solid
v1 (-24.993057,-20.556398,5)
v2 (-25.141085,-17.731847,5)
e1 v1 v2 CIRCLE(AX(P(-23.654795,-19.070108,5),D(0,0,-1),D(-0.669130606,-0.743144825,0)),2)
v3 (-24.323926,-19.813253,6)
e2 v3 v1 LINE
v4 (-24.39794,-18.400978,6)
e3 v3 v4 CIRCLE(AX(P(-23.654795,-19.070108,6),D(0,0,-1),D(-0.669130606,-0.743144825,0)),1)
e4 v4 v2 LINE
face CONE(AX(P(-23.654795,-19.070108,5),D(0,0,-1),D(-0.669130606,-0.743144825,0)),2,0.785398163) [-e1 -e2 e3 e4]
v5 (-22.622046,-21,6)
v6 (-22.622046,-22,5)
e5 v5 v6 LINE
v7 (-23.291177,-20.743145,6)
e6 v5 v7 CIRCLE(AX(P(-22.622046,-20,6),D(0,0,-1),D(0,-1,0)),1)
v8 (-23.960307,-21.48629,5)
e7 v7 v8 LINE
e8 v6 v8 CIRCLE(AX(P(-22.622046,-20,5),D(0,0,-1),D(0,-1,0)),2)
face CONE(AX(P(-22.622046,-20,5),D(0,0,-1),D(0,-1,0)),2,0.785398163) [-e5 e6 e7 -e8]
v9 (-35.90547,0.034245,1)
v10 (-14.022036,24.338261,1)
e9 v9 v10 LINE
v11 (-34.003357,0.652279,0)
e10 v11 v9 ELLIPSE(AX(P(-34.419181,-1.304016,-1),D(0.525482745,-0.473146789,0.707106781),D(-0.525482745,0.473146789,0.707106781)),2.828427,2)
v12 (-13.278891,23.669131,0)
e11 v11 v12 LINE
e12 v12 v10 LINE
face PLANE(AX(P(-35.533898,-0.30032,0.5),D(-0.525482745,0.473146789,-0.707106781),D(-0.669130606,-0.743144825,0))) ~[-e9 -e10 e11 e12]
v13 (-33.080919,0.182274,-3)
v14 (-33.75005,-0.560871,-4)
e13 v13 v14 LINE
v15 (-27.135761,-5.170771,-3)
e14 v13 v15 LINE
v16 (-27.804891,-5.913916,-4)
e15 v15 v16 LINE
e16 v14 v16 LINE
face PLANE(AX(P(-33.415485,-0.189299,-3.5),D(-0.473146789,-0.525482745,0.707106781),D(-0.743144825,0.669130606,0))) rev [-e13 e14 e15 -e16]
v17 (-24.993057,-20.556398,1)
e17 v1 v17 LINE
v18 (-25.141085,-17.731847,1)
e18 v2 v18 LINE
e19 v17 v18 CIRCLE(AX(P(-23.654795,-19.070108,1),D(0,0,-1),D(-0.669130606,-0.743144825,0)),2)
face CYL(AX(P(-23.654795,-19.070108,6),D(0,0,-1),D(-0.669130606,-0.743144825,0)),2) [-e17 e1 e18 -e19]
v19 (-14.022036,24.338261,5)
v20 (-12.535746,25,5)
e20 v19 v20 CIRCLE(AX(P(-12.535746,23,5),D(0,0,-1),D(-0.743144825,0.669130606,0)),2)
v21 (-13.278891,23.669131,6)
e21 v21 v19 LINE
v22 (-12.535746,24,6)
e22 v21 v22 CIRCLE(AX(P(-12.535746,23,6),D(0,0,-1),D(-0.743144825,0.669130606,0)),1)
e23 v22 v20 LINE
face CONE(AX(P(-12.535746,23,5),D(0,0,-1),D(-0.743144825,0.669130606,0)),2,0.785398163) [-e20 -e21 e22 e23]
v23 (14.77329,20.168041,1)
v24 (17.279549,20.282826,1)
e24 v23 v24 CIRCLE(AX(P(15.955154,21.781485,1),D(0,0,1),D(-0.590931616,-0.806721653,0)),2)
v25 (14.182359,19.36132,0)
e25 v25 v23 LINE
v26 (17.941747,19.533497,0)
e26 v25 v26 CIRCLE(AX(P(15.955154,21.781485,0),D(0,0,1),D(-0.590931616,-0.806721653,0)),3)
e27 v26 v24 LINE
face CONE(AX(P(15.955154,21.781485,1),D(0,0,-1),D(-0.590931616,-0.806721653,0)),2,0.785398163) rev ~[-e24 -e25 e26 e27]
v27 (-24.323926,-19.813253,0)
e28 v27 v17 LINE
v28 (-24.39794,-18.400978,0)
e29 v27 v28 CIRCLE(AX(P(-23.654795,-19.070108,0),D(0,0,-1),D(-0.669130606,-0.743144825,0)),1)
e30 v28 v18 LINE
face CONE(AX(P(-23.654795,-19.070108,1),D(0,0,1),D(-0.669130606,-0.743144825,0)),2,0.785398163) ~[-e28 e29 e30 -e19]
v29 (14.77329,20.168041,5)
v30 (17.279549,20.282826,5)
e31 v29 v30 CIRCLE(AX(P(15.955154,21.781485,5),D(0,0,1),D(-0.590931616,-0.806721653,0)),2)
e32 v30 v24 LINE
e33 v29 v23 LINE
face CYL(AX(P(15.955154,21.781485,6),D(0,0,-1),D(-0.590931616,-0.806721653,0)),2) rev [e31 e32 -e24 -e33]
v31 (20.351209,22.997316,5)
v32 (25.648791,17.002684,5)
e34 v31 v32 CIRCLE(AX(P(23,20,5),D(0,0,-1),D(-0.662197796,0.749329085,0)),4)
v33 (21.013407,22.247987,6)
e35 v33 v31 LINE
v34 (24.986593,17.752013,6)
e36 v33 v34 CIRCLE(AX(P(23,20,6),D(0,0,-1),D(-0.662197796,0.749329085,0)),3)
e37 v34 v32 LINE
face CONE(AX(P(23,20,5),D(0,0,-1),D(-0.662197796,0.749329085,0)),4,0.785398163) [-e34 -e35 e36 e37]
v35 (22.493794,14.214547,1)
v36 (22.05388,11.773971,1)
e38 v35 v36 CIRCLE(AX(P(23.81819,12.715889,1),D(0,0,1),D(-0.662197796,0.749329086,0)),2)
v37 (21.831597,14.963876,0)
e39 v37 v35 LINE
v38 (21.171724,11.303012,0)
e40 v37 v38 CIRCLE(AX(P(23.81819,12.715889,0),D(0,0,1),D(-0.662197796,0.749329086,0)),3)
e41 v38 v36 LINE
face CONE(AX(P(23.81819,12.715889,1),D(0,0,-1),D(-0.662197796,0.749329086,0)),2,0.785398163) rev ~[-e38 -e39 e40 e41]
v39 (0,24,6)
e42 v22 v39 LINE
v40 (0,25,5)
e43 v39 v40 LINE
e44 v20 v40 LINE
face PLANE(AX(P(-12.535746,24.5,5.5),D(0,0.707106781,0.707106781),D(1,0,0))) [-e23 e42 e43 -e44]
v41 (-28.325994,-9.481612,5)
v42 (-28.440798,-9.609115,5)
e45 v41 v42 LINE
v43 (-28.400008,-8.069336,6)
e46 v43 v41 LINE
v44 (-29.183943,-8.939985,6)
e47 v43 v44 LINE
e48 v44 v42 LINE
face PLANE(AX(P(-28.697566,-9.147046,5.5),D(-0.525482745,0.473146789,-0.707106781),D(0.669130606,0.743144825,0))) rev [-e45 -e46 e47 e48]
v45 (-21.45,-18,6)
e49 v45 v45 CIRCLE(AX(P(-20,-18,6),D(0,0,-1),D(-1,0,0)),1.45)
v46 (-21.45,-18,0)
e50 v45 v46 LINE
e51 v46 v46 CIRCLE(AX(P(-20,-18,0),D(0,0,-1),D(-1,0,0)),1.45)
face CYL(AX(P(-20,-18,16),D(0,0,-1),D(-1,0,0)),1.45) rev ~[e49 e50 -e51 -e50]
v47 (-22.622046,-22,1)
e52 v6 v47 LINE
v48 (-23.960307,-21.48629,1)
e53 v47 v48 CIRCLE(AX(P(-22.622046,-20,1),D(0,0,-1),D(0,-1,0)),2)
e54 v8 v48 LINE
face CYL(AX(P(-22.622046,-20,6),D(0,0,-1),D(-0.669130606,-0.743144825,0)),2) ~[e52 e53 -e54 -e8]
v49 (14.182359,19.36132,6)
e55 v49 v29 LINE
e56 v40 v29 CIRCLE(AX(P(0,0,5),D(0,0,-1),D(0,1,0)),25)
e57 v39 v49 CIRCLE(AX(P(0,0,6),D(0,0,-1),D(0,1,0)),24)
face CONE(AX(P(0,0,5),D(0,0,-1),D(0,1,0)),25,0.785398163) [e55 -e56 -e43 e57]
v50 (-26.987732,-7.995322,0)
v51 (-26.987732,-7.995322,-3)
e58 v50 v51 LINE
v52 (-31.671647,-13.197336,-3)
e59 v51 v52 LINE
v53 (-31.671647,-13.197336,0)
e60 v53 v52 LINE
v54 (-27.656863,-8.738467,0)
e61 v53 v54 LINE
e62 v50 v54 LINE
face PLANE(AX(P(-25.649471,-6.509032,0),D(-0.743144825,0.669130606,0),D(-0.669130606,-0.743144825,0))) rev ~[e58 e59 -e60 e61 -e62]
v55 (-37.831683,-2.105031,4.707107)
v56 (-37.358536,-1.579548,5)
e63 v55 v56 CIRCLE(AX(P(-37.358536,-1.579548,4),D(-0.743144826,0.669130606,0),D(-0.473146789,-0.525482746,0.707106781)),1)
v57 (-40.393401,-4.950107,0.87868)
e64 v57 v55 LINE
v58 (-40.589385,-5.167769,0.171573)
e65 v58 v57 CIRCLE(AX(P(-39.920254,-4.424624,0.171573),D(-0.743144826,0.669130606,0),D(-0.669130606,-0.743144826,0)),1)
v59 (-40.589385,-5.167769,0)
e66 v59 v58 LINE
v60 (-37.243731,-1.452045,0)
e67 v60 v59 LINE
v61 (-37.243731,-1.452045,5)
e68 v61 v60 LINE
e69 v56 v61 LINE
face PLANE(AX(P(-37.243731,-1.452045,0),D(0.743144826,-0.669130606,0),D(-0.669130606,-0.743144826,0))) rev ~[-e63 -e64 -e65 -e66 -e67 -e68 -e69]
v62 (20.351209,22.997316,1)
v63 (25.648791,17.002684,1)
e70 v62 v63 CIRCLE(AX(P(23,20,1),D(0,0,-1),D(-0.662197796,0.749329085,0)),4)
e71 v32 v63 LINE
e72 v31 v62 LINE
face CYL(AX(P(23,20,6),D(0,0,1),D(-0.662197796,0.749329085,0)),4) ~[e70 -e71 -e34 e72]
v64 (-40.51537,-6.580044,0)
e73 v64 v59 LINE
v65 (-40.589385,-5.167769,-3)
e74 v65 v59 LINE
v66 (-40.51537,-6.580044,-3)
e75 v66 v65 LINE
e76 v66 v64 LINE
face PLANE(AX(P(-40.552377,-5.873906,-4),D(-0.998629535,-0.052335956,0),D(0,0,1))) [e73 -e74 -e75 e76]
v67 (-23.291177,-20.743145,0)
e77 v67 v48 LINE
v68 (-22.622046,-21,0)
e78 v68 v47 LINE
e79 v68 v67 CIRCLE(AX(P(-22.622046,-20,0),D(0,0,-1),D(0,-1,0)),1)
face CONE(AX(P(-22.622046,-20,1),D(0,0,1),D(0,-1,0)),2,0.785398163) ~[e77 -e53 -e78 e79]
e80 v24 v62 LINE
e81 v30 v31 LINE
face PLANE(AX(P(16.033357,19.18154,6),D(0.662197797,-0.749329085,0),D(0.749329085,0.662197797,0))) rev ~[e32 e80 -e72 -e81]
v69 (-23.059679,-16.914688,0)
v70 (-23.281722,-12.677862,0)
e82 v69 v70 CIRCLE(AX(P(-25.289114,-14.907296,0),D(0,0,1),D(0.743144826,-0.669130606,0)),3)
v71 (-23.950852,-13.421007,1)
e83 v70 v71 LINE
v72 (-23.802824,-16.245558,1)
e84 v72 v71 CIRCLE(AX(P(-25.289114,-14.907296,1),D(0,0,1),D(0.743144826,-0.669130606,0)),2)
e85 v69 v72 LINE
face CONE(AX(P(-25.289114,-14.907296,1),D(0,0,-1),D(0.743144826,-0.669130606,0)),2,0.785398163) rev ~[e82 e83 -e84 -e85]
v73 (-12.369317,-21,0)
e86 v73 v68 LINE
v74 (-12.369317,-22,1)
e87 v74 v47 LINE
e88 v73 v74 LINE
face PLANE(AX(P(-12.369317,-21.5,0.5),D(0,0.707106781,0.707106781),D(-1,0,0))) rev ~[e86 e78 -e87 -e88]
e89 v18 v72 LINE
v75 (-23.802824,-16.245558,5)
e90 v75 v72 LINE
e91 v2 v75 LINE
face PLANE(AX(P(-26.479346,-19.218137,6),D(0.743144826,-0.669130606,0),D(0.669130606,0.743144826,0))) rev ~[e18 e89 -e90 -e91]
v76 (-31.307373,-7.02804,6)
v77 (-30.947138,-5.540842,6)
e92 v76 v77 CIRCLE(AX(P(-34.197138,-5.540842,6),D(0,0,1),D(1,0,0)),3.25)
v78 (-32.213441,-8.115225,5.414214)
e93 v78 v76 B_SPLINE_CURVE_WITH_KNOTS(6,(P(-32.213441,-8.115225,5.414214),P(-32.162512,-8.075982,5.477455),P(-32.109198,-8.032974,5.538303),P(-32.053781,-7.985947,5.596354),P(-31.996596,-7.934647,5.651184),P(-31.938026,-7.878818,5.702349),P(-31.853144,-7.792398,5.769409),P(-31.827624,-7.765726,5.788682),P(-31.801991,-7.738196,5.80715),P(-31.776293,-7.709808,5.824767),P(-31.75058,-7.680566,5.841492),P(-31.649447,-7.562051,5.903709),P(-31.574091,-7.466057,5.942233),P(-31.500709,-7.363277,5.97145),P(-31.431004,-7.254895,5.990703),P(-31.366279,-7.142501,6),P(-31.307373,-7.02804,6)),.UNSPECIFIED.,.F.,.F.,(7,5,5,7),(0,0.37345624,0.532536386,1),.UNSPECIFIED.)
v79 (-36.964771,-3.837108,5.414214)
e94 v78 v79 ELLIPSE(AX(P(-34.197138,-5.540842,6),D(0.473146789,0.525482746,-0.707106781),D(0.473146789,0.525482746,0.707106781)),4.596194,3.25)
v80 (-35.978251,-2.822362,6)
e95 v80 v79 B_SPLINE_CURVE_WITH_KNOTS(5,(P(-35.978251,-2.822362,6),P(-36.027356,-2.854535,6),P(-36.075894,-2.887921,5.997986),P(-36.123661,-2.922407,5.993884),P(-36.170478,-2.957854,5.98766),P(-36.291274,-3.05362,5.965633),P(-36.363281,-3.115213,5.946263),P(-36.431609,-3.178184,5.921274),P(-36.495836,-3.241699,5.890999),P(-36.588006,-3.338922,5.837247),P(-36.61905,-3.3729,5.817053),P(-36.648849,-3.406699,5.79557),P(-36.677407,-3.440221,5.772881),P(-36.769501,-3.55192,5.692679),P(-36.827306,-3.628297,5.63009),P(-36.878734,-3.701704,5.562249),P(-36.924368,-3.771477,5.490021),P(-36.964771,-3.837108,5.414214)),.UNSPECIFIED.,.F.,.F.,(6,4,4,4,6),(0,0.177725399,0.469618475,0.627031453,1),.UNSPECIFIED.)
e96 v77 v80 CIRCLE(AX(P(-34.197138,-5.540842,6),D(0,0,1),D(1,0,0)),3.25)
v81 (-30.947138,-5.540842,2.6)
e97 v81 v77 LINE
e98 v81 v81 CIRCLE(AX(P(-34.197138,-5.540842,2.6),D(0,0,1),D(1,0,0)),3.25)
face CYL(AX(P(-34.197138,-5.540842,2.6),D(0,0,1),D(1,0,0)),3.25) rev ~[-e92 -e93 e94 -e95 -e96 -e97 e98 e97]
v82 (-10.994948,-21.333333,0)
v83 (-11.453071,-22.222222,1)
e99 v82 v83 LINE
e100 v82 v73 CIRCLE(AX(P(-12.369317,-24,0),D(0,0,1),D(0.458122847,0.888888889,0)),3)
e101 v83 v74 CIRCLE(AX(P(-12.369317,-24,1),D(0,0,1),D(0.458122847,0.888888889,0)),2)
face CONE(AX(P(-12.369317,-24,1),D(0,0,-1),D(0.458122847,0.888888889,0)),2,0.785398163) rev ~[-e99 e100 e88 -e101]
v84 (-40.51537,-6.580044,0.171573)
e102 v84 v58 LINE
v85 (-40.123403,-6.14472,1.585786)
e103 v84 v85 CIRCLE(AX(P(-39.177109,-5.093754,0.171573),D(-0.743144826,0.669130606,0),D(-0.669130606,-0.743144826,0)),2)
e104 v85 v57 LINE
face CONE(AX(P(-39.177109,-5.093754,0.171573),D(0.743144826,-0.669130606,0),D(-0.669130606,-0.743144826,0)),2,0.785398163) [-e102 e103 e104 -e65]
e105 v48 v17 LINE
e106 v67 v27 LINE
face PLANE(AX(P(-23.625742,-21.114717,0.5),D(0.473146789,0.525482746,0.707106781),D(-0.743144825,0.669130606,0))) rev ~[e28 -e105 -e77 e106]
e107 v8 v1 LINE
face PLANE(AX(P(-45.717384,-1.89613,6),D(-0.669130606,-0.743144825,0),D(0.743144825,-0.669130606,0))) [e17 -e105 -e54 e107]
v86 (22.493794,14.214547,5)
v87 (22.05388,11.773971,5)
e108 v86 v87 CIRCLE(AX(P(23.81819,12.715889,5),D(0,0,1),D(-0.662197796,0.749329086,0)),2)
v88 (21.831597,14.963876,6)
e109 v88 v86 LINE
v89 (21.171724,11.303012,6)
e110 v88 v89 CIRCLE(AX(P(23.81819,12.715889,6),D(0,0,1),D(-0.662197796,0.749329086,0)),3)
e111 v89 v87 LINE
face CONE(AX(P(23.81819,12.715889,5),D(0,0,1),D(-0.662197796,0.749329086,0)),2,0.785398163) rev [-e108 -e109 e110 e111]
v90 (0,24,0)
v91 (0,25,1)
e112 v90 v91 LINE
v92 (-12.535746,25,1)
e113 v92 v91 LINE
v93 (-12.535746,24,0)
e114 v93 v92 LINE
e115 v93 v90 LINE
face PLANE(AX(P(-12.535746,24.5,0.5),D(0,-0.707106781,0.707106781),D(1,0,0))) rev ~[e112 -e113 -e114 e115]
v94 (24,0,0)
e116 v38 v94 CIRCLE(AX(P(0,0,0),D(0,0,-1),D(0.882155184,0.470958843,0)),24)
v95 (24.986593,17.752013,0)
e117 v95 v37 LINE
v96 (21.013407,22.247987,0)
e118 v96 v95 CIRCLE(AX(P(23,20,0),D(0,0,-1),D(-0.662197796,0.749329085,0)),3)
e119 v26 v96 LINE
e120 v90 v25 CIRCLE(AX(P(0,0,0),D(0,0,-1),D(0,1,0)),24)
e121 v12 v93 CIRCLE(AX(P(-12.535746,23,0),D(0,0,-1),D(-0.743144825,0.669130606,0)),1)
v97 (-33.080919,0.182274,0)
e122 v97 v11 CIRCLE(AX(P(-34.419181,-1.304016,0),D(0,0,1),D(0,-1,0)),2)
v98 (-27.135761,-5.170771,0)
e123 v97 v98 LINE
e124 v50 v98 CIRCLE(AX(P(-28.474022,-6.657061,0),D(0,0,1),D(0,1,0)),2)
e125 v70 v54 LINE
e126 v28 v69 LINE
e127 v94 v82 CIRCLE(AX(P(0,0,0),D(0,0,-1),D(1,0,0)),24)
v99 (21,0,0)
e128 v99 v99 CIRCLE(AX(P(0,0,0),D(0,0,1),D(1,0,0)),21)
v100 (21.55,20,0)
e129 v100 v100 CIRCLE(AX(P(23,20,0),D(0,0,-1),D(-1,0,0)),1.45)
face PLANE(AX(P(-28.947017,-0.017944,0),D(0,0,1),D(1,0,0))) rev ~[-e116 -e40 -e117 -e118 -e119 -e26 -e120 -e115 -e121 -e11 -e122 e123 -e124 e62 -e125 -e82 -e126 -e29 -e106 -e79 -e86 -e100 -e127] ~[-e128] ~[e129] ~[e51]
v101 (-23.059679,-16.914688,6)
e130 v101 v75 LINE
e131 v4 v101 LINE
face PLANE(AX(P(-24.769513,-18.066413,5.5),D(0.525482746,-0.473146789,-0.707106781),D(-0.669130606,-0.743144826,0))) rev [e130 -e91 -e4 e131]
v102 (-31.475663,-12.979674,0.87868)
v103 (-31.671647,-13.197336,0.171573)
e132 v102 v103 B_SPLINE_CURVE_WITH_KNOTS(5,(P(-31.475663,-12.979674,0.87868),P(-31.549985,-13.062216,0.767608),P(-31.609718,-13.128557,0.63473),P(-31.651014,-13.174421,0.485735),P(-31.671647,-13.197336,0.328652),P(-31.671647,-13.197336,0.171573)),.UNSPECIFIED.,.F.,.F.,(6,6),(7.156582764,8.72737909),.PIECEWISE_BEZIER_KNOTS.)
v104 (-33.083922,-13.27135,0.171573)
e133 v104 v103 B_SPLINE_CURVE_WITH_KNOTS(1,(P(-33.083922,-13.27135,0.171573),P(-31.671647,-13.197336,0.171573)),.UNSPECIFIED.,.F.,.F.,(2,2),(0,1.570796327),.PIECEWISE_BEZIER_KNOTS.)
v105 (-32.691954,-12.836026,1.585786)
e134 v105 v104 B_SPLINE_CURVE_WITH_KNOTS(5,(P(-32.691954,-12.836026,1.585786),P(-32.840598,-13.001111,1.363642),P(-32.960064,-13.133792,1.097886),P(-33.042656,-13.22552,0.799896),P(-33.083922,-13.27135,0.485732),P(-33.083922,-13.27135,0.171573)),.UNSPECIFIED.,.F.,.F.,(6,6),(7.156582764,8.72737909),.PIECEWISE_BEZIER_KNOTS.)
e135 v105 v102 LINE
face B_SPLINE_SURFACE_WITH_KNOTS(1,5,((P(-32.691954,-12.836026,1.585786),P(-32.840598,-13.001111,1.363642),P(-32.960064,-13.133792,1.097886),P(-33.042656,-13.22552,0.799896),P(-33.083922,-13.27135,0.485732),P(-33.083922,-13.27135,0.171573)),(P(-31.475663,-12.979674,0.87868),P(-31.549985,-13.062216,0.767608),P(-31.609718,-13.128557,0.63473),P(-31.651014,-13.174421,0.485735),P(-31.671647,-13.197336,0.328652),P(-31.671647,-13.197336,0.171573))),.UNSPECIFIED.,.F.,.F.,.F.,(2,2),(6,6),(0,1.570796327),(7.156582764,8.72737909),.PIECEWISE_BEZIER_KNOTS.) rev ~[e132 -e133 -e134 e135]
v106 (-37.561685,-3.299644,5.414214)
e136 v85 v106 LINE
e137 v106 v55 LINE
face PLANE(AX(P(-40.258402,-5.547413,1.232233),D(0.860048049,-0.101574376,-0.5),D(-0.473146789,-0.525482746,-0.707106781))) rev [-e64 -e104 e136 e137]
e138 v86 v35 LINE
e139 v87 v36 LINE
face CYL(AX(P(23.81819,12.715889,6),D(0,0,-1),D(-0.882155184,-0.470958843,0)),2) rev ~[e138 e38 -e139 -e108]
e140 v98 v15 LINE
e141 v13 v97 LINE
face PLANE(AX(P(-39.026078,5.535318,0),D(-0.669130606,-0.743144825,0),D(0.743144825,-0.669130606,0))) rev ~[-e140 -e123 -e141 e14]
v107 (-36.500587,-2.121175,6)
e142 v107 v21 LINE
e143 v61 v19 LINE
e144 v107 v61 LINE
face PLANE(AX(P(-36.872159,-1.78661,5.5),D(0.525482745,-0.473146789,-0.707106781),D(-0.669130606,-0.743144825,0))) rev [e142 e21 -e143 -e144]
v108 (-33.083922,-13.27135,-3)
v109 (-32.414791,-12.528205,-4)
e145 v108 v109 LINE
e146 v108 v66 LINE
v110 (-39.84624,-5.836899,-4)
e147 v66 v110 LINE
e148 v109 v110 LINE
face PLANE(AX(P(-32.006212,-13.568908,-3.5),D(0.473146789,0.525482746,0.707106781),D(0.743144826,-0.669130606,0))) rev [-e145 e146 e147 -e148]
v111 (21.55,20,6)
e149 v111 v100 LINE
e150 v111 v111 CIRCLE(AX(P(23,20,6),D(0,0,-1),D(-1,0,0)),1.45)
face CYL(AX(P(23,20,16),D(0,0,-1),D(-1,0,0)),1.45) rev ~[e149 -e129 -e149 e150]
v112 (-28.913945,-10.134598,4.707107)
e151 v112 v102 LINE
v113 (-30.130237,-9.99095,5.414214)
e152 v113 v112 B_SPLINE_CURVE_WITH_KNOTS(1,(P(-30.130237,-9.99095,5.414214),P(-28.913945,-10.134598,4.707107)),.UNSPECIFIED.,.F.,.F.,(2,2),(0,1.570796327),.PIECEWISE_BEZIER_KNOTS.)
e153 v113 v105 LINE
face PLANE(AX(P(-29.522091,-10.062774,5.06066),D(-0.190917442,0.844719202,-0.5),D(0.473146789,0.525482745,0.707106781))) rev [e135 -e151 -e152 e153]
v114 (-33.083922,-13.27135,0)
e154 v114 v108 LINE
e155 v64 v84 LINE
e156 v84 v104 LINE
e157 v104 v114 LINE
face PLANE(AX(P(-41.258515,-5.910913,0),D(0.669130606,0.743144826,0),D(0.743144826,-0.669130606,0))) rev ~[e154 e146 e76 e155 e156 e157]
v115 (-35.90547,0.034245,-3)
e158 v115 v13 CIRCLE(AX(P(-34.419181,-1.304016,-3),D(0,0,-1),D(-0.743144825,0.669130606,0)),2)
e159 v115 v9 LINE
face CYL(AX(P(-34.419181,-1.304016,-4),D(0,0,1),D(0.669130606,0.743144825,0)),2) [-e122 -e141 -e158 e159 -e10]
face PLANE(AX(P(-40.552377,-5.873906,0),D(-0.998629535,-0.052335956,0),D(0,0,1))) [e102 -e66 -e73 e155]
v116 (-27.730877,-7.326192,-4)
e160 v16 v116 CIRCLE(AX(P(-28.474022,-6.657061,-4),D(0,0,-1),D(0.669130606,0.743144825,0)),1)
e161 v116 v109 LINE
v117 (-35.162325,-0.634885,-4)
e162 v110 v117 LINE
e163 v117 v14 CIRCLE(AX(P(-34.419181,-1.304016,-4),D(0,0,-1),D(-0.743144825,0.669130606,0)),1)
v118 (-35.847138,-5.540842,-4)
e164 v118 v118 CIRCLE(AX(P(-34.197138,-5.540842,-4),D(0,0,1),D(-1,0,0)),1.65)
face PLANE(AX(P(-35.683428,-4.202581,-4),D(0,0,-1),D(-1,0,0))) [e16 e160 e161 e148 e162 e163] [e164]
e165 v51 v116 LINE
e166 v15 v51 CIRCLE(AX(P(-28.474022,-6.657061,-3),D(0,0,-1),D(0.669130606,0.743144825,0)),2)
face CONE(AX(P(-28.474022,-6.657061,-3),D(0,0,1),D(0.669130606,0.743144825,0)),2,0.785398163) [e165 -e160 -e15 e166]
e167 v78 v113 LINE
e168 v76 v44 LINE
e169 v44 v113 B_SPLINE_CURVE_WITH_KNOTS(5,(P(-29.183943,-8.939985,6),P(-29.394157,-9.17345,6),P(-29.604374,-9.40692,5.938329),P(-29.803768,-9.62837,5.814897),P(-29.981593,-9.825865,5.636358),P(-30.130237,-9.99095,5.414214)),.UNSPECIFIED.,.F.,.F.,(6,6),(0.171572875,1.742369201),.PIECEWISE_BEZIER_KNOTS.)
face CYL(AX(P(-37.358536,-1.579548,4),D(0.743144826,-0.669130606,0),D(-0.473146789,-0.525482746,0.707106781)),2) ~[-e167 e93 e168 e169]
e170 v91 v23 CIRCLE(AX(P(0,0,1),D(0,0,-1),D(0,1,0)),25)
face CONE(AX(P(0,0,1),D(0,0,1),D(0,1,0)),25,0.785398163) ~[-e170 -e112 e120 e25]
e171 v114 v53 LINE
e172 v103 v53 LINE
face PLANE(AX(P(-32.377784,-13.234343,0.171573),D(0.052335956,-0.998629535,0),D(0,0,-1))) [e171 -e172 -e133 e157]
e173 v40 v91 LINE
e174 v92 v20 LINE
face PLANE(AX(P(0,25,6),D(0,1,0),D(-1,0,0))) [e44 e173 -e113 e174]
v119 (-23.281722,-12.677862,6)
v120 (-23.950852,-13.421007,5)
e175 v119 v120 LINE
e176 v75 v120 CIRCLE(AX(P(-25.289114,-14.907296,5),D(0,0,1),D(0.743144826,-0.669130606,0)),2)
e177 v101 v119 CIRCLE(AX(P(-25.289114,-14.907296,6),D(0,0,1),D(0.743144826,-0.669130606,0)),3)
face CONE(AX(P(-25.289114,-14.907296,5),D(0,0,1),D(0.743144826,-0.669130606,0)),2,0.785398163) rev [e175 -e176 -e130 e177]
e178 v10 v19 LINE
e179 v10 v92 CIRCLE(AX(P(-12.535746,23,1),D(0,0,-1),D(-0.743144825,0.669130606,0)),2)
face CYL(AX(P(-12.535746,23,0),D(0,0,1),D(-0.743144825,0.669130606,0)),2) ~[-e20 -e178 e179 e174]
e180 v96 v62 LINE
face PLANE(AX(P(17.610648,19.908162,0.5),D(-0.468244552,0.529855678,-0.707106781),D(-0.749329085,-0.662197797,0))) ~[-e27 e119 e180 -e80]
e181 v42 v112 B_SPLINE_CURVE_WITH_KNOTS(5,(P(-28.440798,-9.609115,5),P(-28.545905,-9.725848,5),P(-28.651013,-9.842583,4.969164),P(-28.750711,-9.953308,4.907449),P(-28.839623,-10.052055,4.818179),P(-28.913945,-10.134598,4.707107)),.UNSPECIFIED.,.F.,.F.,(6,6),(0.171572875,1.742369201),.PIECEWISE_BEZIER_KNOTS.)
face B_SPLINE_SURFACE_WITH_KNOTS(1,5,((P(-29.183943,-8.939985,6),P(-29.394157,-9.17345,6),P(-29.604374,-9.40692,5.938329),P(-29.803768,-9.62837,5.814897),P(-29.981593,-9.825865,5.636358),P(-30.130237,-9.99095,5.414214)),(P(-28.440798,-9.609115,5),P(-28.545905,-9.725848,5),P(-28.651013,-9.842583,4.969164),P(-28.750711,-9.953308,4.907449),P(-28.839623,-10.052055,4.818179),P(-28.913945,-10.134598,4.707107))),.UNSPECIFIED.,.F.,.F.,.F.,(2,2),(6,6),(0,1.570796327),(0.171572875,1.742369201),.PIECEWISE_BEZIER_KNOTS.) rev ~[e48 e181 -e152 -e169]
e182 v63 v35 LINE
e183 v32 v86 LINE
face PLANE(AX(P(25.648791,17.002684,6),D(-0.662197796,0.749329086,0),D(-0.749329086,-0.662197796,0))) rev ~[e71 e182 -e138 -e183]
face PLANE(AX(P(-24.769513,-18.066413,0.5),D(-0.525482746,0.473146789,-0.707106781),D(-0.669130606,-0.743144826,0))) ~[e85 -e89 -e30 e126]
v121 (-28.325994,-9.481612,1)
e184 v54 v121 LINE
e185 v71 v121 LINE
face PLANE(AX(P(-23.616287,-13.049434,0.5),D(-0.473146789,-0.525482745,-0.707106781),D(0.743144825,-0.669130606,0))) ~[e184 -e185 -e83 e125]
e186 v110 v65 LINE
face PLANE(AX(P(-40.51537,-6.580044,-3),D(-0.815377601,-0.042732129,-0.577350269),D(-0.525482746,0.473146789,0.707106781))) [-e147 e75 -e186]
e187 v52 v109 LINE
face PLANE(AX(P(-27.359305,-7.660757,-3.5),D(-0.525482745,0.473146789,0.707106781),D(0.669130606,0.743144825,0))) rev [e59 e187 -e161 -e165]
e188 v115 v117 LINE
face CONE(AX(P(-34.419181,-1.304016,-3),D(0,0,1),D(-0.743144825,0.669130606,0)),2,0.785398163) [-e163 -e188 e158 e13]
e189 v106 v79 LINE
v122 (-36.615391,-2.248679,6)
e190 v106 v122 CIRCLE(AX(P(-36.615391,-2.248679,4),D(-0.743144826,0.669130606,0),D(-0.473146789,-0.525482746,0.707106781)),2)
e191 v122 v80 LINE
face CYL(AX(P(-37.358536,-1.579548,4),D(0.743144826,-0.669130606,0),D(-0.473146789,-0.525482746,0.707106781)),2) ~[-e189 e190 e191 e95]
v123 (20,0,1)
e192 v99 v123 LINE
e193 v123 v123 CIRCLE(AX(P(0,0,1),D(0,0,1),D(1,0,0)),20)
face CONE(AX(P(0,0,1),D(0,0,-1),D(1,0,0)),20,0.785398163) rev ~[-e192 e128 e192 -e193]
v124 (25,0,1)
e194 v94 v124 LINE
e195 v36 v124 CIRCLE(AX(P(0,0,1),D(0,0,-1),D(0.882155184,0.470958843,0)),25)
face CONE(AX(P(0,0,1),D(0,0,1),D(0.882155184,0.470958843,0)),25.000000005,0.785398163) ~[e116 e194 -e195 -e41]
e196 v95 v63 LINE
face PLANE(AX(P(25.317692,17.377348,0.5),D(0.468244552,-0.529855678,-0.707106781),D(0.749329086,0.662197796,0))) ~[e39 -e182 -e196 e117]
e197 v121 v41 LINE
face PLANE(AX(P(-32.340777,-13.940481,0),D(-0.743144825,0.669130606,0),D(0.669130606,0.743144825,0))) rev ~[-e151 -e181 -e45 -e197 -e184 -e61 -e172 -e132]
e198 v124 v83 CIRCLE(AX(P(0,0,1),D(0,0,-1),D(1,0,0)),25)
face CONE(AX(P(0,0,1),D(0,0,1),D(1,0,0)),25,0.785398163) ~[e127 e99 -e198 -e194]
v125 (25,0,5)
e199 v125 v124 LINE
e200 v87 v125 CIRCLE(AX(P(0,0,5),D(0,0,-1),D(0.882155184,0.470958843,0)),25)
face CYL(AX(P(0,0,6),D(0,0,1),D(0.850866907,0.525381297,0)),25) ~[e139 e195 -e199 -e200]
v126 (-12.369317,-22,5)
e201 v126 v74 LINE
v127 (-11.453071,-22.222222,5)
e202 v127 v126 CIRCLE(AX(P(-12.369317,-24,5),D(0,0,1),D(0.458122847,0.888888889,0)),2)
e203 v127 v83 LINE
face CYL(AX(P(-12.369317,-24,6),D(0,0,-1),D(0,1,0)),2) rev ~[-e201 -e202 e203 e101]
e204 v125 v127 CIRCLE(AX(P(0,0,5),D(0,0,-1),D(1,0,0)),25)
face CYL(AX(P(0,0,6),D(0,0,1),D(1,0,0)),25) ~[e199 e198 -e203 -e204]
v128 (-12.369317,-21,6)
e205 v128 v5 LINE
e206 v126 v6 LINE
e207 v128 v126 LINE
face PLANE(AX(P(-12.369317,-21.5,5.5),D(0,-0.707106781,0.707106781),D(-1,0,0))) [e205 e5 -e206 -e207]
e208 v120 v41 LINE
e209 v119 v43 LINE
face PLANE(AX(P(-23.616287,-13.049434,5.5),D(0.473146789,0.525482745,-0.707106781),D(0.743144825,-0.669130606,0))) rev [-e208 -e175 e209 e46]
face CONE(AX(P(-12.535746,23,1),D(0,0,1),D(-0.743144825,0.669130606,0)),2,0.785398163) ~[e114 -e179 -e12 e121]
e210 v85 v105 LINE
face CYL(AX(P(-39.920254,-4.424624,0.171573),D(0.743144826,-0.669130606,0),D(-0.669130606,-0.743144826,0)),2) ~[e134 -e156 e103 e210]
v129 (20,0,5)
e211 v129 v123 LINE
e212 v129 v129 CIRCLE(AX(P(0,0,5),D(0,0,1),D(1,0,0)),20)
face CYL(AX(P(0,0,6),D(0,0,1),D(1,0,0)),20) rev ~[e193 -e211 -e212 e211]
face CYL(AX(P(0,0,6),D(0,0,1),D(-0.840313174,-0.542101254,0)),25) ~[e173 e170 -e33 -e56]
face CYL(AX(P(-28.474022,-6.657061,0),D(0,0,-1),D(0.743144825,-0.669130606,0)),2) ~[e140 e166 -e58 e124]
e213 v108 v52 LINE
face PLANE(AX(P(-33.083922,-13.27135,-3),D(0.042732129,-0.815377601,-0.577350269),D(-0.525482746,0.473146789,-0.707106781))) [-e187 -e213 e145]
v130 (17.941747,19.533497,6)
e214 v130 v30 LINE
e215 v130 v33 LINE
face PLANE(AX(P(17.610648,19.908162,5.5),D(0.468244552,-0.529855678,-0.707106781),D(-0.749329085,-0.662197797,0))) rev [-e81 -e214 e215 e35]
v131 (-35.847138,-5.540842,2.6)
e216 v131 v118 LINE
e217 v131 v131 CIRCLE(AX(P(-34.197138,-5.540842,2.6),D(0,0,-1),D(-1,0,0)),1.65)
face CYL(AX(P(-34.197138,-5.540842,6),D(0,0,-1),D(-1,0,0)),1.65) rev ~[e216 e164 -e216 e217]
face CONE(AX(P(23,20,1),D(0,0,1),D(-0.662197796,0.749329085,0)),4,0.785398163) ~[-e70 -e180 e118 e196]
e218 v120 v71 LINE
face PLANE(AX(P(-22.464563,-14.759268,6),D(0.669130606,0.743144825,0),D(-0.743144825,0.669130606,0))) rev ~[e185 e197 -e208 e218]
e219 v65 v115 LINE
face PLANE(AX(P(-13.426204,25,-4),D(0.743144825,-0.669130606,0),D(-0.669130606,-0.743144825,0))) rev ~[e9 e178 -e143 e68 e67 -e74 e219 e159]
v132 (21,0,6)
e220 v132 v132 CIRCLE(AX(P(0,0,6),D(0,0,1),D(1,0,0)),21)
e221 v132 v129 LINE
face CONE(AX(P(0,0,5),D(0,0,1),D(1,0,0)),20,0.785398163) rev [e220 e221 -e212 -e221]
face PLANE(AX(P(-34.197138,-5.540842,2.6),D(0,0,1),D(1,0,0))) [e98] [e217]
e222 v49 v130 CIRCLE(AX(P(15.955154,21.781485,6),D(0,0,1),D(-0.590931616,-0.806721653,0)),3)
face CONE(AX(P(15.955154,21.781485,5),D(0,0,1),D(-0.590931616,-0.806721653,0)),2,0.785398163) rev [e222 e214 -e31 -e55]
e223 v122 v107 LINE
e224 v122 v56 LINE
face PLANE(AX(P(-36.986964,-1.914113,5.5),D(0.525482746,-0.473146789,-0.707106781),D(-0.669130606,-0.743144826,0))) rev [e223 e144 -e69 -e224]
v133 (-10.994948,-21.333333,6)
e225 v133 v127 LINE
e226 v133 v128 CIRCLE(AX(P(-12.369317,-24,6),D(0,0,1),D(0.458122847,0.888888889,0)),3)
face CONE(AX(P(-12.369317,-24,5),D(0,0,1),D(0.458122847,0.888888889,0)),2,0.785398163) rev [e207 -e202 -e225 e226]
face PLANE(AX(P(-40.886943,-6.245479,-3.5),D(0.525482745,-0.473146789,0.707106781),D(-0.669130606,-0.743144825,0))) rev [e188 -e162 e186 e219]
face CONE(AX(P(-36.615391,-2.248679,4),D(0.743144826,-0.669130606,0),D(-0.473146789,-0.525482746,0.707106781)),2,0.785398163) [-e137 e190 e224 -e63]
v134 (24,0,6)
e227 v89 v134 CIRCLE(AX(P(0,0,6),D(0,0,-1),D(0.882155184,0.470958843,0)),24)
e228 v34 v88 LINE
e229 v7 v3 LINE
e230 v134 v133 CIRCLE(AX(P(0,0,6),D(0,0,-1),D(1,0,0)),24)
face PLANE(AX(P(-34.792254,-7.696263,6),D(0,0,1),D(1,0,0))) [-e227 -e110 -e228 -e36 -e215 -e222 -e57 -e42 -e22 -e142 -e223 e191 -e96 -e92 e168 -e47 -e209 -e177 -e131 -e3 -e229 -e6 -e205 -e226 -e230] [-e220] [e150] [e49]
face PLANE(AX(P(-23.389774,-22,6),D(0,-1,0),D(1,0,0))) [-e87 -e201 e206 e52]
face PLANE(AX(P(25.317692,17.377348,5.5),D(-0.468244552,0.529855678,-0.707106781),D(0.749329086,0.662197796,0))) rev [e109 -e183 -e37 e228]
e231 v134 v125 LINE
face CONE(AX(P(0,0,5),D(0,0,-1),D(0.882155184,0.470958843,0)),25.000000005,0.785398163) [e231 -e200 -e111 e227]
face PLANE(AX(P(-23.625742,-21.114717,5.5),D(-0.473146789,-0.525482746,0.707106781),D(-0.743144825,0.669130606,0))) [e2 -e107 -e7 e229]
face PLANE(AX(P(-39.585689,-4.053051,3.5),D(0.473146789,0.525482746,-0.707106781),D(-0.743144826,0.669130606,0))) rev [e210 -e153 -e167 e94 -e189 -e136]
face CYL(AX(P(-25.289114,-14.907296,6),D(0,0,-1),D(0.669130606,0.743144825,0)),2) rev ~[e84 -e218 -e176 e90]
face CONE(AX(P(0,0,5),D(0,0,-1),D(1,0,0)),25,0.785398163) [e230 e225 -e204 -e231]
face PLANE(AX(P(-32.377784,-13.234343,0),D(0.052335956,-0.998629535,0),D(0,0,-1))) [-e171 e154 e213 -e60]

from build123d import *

# Parameters (mm, degrees)
SKETCH_1_W                   = 60
SKETCH_1_H                   = 55
EXTRUDE_1_DEPTH              = 6
HOLE_WIZARD_M4_1_D           = 2.9
HOLE_WIZARD_M4_1_DEPTH       = 10
SKETCH_5_R                   = 20
CUT_EXTRUDE_1_DEPTH          = 7
SKETCH_6_W                   = 60
SKETCH_6_H                   = 55
CUT_EXTRUDE_2_DEPTH          = 7
EXTRUDE_2_DEPTH              = 6
EXTRUDE_3_DEPTH              = 6
EXTRUDE_4_DEPTH              = 4
CUT_EXTRUDE_3_DEPTH          = 11
CUT_EXTRUDE_4_DEPTH          = 6
FILLET_1_R                   = 2
EXTRUDE_5_DEPTH              = 6
CHAMFER_2_SIZE               = 5
FILLET_4_R                   = 2
CHAMFER_3_SIZE               = 1
HOLE_WIZARD_M3_2_D           = 3.3
HOLE_WIZARD_M3_2_DEPTH       = 10
HOLE_WIZARD_M3_2_CBORE_D     = 6.5
HOLE_WIZARD_M3_2_CBORE_DEPTH = 3.4
HOLE_WIZARD_M3_2_TIP         = 0.991420021


with BuildPart() as part:
    # ｽｹｯﾁ1 → ﾎﾞｽ - 押し出し1 (new body)
    with BuildSketch(Plane.XY):
        Rectangle(SKETCH_1_W, SKETCH_1_H)
    extrude(amount=EXTRUDE_1_DEPTH)

    # M4 すきま穴1
    with Locations(Plane.XY.offset(6)):
        with Locations((-20, -18), (23, 20)):
            Hole(HOLE_WIZARD_M4_1_D / 2, depth=HOLE_WIZARD_M4_1_DEPTH)

    # ｽｹｯﾁ5 → ｶｯﾄ - 押し出し1 (cut, through all)
    with BuildSketch(Plane.XY.offset(6)):
        Circle(SKETCH_5_R)
    extrude(amount=-CUT_EXTRUDE_1_DEPTH, mode=Mode.SUBTRACT)

    # ｽｹｯﾁ6 → ｶｯﾄ - 押し出し2 (cut, through all)
    with BuildSketch(Plane.XY.offset(6)):
        Rectangle(SKETCH_6_W, SKETCH_6_H)
        with BuildLine():
            ThreePointArc((-17.351208814, -20.997316342), (-22.997316342, -20.648791186), (-22.648791186, -15.002683658))
            Line((-22.648791186, -15.002683658), (-21.007829355, -13.552531342))
            ThreePointArc((-21.007829355, -13.552531342), (-16.554944912, 18.733227137), (16.03335661, 19.181539975))
            Line((16.03335661, 19.181539975), (20.351208814, 22.997316342))
            ThreePointArc((20.351208814, 22.997316342), (25.997316342, 22.648791186), (25.648791186, 17.002683658))
            Line((25.648791186, 17.002683658), (21.271672672, 13.134532414))
            ThreePointArc((21.271672672, 13.134532414), (24.04986296, 6.826718948), (25, 0))
            ThreePointArc((25, 0), (10.810307191, -22.541900062), (-15.650980674, -19.494789148))
            Line((-15.650980674, -19.494789148), (-17.351208814, -20.997316342))
        make_face(mode=Mode.SUBTRACT)
    extrude(amount=-CUT_EXTRUDE_2_DEPTH, mode=Mode.SUBTRACT)

    # ｽｹｯﾁ7 → ﾎﾞｽ - 押し出し2 (add)
    with BuildSketch(Plane.XY.offset(6)):
        with BuildLine():
            Line((0, 25), (-21.5, 25))
            Line((-21.5, 25), (-21.5, 12.757350822))
            ThreePointArc((-21.5, 12.757350822), (-12.370655388, 21.724798855), (0, 25))
        make_face()
        with BuildLine():
            ThreePointArc((-17.351208814, -20.997316342), (-18.583890076, -21.74094008), (-20, -22))
            Line((-20, -22), (-11.874342087, -22))
            ThreePointArc((-11.874342087, -22), (-13.819546614, -20.833149819), (-15.650980674, -19.494789148))
            Line((-15.650980674, -19.494789148), (-17.351208814, -20.997316342))
        make_face()
        with BuildLine():
            ThreePointArc((-21.007829355, -13.552531342), (-21.25763315, -13.157242601), (-21.5, -12.757350822))
            Line((-21.5, -12.757350822), (-21.5, -13.987472843))
            Line((-21.5, -13.987472843), (-21.007829355, -13.552531342))
        make_face()
    extrude(amount=-EXTRUDE_2_DEPTH)

    # ｽｹｯﾁ8 → ﾎﾞｽ - 押し出し3 (add)
    with BuildSketch(Plane.XY.offset(6)):
        with BuildLine():
            Line((-21.5, 12.757350822), (-21.5, 25))
            Line((-21.5, 25), (-45.717384076, -1.896129831))
            Line((-45.717384076, -1.896129831), (-23.389774269, -22))
            Line((-23.389774269, -22), (-20, -22))
            ThreePointArc((-20, -22), (-23.74094008, -19.416109924), (-22.648791186, -15.002683658))
            Line((-22.648791186, -15.002683658), (-21.5, -13.987472843))
            Line((-21.5, -13.987472843), (-21.5, -12.757350822))
            ThreePointArc((-21.5, -12.757350822), (-25, 0), (-21.5, 12.757350822))
        make_face()
    extrude(amount=-EXTRUDE_3_DEPTH)

    # ｽｹｯﾁ9 → ﾎﾞｽ - 押し出し4 (add)
    with BuildSketch(Plane(origin=(0, 0, 0), x_dir=(-1, 0, 0), z_dir=(0, 0, -1))):
        Polygon((25.649471154, -6.509032491), (32.340777217, -13.940480745), (45.717384076, -1.896129831), (39.026078012, 5.535318424), align=None)
    extrude(amount=EXTRUDE_4_DEPTH)

    # ｽｹｯﾁ10 → ｶｯﾄ - 押し出し3 (cut, through all)
    with BuildSketch(Plane(origin=(0, 0, -4), x_dir=(-1, 0, 0), z_dir=(0, 0, -1))):
        Polygon((39.026078012, 5.535318424), (21.5, 25), (13.426203622, 25), (41.258515123, -5.910913469), (45.717384076, -1.896129831), align=None)
    extrude(amount=-CUT_EXTRUDE_3_DEPTH, mode=Mode.SUBTRACT)

    # ｽｹｯﾁ12 → ｶｯﾄ - 押し出し4 (cut)
    with BuildSketch(Plane.XY.offset(6)):
        Polygon((-41.258515123, -5.910913469), (-26.47934628, -19.218136867), (-22.464562642, -14.759267914), (-37.243731485, -1.452044516), align=None)
    extrude(amount=-CUT_EXTRUDE_4_DEPTH, mode=Mode.SUBTRACT)

    # ﾌｨﾚｯﾄ1
    fillet_1_edges = [part.edges().sort_by_distance(p)[0] for p in [
        (-25.649471154, -6.509032491, -2),
        (-34.567209059, 1.520534786, -2),
        (-26.47934628, -19.218136867, 3),
    ]]
    fillet(fillet_1_edges, radius=FILLET_1_R)

    # ｽｹｯﾁ13 → ﾎﾞｽ - 押し出し5 (add)
    with BuildSketch(Plane.XY):
        Polygon((-32.340777217, -13.940480745), (-28.325993579, -9.481611793), (-37.243731485, -1.452044516), (-41.258515123, -5.910913469), align=None)
    extrude(amount=EXTRUDE_5_DEPTH)

    # 面取り2
    chamfer_2_edges = [part.edges().sort_by_distance(p)[0] for p in [
        (-36.79964617, -9.925697107, 6),
    ]]
    chamfer(chamfer_2_edges, length=CHAMFER_2_SIZE)

    # ﾌｨﾚｯﾄ4
    fillet_4_edges = [part.edges().sort_by_distance(p)[0] for p in [
        (-23.389774269, -22, 3),
        (-13.426203622, 25, 3),
        (-22.464562642, -14.759267914, 3),
        (-33.453993138, -6.20997298, 6),
        (-36.79964617, -9.925697107, 1),
        (21.271672672, 13.134532414, 3),
        (16.03335661, 19.181539975, 3),
        (-11.874342087, -22, 3),
    ]]
    fillet(fillet_4_edges, radius=FILLET_4_R)

    # 面取り3
    chamfer_3_edges = [part.edges().sort_by_distance(p)[0] for p in [
        (-29.664254792, -10.967901443, -4),
        (-32.340777217, -13.940480745, -1.914213562),
        (-36.79964617, -9.925697107, -4),
        (-38.581992697, -2.938334167, -4),
        (-30.108340106, -2.494248852, -4),
        (-34.523852534, 0.693242992, -4),
        (-26.476762948, -6.552389016, -4),
        (-24.471954461, -16.98870239, 6),
        (-24.471954461, -16.98870239, 0),
        (-24.47668202, -21.021343865, 6),
        (-25.652054486, -19.174780341, 6),
        (-25.652054486, -19.174780341, 0),
        (-24.47668202, -21.021343865, 0),
        (-25.690286025, 11.379356601, 6),
        (-28.38339591, -9.54536354, 6),
        (-26.138422936, -11.451309247, 6),
        (-17.495681538, -22, 6),
        (17.805324329, -17.549086174, 6),
        (24.071292776, 15.608615296, 6),
        (18.815379015, 21.640071403, 6),
        (7.771710455, 23.761323966, 6),
        (-13.349219538, 24.827090915, 6),
        (-23.338782098, -21.867160853, 6),
        (-17.495681538, -22, 0),
        (-26.138422936, -11.451309247, 0),
        (-24.963753087, 12.186253174, 0),
        (-6.267873126, 25, 0),
        (7.771710455, 23.761323966, 0),
        (18.815379015, 21.640071403, 0),
        (24.071292776, 15.608615296, 0),
        (17.805324329, -17.549086174, 0),
        (-13.349219538, 24.827090915, 0),
        (-23.338782098, -21.867160853, 0),
        (-41.258515123, -5.910913469, -1.914213562),
        (-39.585688607, -4.053051405, 3.5),
        (-37.870666541, -2.148326436, 5.847759065),
        (-41.156646054, -5.797776406, 0.93693974),
        (-30.667950701, -12.082618682, 3.5),
        (-28.952928635, -10.177893712, 5.847759065),
        (-32.238908148, -13.827343682, 0.93693974),
        (21.8499093, 13.07067214, 0),
        (21.8499093, 13.07067214, 6),
        (16.046656493, 19.783578925, 0),
        (16.046656493, 19.783578925, 6),
        (-11.897912356, -22.056349368, 6),
        (-11.897912356, -22.056349368, 0),
        (-23.291854436, -14.80262444, 6),
        (-23.291854436, -14.80262444, 0),
        (-20, 0, 0),
        (-20, 0, 6),
        (25.997316342, 22.648791186, 0),
        (25.997316342, 22.648791186, 6),
        (-6.267873126, 25, 6),
    ]]
    chamfer(chamfer_3_edges, length=CHAMFER_3_SIZE)

    # M3 六角穴付き頭ねじ用座ぐり穴2
    with Locations(Plane.XY.offset(6)):
        with Locations((-34.197137964, -5.540842373)):
            CounterBoreHole(HOLE_WIZARD_M3_2_D / 2, HOLE_WIZARD_M3_2_CBORE_D / 2, HOLE_WIZARD_M3_2_CBORE_DEPTH, depth=HOLE_WIZARD_M3_2_DEPTH)
            with Locations((0, 0, -(HOLE_WIZARD_M3_2_DEPTH + HOLE_WIZARD_M3_2_TIP / 2))):  # 118° drill point
                Cone(0, HOLE_WIZARD_M3_2_D / 2, HOLE_WIZARD_M3_2_TIP, mode=Mode.SUBTRACT)


solid = part.part
